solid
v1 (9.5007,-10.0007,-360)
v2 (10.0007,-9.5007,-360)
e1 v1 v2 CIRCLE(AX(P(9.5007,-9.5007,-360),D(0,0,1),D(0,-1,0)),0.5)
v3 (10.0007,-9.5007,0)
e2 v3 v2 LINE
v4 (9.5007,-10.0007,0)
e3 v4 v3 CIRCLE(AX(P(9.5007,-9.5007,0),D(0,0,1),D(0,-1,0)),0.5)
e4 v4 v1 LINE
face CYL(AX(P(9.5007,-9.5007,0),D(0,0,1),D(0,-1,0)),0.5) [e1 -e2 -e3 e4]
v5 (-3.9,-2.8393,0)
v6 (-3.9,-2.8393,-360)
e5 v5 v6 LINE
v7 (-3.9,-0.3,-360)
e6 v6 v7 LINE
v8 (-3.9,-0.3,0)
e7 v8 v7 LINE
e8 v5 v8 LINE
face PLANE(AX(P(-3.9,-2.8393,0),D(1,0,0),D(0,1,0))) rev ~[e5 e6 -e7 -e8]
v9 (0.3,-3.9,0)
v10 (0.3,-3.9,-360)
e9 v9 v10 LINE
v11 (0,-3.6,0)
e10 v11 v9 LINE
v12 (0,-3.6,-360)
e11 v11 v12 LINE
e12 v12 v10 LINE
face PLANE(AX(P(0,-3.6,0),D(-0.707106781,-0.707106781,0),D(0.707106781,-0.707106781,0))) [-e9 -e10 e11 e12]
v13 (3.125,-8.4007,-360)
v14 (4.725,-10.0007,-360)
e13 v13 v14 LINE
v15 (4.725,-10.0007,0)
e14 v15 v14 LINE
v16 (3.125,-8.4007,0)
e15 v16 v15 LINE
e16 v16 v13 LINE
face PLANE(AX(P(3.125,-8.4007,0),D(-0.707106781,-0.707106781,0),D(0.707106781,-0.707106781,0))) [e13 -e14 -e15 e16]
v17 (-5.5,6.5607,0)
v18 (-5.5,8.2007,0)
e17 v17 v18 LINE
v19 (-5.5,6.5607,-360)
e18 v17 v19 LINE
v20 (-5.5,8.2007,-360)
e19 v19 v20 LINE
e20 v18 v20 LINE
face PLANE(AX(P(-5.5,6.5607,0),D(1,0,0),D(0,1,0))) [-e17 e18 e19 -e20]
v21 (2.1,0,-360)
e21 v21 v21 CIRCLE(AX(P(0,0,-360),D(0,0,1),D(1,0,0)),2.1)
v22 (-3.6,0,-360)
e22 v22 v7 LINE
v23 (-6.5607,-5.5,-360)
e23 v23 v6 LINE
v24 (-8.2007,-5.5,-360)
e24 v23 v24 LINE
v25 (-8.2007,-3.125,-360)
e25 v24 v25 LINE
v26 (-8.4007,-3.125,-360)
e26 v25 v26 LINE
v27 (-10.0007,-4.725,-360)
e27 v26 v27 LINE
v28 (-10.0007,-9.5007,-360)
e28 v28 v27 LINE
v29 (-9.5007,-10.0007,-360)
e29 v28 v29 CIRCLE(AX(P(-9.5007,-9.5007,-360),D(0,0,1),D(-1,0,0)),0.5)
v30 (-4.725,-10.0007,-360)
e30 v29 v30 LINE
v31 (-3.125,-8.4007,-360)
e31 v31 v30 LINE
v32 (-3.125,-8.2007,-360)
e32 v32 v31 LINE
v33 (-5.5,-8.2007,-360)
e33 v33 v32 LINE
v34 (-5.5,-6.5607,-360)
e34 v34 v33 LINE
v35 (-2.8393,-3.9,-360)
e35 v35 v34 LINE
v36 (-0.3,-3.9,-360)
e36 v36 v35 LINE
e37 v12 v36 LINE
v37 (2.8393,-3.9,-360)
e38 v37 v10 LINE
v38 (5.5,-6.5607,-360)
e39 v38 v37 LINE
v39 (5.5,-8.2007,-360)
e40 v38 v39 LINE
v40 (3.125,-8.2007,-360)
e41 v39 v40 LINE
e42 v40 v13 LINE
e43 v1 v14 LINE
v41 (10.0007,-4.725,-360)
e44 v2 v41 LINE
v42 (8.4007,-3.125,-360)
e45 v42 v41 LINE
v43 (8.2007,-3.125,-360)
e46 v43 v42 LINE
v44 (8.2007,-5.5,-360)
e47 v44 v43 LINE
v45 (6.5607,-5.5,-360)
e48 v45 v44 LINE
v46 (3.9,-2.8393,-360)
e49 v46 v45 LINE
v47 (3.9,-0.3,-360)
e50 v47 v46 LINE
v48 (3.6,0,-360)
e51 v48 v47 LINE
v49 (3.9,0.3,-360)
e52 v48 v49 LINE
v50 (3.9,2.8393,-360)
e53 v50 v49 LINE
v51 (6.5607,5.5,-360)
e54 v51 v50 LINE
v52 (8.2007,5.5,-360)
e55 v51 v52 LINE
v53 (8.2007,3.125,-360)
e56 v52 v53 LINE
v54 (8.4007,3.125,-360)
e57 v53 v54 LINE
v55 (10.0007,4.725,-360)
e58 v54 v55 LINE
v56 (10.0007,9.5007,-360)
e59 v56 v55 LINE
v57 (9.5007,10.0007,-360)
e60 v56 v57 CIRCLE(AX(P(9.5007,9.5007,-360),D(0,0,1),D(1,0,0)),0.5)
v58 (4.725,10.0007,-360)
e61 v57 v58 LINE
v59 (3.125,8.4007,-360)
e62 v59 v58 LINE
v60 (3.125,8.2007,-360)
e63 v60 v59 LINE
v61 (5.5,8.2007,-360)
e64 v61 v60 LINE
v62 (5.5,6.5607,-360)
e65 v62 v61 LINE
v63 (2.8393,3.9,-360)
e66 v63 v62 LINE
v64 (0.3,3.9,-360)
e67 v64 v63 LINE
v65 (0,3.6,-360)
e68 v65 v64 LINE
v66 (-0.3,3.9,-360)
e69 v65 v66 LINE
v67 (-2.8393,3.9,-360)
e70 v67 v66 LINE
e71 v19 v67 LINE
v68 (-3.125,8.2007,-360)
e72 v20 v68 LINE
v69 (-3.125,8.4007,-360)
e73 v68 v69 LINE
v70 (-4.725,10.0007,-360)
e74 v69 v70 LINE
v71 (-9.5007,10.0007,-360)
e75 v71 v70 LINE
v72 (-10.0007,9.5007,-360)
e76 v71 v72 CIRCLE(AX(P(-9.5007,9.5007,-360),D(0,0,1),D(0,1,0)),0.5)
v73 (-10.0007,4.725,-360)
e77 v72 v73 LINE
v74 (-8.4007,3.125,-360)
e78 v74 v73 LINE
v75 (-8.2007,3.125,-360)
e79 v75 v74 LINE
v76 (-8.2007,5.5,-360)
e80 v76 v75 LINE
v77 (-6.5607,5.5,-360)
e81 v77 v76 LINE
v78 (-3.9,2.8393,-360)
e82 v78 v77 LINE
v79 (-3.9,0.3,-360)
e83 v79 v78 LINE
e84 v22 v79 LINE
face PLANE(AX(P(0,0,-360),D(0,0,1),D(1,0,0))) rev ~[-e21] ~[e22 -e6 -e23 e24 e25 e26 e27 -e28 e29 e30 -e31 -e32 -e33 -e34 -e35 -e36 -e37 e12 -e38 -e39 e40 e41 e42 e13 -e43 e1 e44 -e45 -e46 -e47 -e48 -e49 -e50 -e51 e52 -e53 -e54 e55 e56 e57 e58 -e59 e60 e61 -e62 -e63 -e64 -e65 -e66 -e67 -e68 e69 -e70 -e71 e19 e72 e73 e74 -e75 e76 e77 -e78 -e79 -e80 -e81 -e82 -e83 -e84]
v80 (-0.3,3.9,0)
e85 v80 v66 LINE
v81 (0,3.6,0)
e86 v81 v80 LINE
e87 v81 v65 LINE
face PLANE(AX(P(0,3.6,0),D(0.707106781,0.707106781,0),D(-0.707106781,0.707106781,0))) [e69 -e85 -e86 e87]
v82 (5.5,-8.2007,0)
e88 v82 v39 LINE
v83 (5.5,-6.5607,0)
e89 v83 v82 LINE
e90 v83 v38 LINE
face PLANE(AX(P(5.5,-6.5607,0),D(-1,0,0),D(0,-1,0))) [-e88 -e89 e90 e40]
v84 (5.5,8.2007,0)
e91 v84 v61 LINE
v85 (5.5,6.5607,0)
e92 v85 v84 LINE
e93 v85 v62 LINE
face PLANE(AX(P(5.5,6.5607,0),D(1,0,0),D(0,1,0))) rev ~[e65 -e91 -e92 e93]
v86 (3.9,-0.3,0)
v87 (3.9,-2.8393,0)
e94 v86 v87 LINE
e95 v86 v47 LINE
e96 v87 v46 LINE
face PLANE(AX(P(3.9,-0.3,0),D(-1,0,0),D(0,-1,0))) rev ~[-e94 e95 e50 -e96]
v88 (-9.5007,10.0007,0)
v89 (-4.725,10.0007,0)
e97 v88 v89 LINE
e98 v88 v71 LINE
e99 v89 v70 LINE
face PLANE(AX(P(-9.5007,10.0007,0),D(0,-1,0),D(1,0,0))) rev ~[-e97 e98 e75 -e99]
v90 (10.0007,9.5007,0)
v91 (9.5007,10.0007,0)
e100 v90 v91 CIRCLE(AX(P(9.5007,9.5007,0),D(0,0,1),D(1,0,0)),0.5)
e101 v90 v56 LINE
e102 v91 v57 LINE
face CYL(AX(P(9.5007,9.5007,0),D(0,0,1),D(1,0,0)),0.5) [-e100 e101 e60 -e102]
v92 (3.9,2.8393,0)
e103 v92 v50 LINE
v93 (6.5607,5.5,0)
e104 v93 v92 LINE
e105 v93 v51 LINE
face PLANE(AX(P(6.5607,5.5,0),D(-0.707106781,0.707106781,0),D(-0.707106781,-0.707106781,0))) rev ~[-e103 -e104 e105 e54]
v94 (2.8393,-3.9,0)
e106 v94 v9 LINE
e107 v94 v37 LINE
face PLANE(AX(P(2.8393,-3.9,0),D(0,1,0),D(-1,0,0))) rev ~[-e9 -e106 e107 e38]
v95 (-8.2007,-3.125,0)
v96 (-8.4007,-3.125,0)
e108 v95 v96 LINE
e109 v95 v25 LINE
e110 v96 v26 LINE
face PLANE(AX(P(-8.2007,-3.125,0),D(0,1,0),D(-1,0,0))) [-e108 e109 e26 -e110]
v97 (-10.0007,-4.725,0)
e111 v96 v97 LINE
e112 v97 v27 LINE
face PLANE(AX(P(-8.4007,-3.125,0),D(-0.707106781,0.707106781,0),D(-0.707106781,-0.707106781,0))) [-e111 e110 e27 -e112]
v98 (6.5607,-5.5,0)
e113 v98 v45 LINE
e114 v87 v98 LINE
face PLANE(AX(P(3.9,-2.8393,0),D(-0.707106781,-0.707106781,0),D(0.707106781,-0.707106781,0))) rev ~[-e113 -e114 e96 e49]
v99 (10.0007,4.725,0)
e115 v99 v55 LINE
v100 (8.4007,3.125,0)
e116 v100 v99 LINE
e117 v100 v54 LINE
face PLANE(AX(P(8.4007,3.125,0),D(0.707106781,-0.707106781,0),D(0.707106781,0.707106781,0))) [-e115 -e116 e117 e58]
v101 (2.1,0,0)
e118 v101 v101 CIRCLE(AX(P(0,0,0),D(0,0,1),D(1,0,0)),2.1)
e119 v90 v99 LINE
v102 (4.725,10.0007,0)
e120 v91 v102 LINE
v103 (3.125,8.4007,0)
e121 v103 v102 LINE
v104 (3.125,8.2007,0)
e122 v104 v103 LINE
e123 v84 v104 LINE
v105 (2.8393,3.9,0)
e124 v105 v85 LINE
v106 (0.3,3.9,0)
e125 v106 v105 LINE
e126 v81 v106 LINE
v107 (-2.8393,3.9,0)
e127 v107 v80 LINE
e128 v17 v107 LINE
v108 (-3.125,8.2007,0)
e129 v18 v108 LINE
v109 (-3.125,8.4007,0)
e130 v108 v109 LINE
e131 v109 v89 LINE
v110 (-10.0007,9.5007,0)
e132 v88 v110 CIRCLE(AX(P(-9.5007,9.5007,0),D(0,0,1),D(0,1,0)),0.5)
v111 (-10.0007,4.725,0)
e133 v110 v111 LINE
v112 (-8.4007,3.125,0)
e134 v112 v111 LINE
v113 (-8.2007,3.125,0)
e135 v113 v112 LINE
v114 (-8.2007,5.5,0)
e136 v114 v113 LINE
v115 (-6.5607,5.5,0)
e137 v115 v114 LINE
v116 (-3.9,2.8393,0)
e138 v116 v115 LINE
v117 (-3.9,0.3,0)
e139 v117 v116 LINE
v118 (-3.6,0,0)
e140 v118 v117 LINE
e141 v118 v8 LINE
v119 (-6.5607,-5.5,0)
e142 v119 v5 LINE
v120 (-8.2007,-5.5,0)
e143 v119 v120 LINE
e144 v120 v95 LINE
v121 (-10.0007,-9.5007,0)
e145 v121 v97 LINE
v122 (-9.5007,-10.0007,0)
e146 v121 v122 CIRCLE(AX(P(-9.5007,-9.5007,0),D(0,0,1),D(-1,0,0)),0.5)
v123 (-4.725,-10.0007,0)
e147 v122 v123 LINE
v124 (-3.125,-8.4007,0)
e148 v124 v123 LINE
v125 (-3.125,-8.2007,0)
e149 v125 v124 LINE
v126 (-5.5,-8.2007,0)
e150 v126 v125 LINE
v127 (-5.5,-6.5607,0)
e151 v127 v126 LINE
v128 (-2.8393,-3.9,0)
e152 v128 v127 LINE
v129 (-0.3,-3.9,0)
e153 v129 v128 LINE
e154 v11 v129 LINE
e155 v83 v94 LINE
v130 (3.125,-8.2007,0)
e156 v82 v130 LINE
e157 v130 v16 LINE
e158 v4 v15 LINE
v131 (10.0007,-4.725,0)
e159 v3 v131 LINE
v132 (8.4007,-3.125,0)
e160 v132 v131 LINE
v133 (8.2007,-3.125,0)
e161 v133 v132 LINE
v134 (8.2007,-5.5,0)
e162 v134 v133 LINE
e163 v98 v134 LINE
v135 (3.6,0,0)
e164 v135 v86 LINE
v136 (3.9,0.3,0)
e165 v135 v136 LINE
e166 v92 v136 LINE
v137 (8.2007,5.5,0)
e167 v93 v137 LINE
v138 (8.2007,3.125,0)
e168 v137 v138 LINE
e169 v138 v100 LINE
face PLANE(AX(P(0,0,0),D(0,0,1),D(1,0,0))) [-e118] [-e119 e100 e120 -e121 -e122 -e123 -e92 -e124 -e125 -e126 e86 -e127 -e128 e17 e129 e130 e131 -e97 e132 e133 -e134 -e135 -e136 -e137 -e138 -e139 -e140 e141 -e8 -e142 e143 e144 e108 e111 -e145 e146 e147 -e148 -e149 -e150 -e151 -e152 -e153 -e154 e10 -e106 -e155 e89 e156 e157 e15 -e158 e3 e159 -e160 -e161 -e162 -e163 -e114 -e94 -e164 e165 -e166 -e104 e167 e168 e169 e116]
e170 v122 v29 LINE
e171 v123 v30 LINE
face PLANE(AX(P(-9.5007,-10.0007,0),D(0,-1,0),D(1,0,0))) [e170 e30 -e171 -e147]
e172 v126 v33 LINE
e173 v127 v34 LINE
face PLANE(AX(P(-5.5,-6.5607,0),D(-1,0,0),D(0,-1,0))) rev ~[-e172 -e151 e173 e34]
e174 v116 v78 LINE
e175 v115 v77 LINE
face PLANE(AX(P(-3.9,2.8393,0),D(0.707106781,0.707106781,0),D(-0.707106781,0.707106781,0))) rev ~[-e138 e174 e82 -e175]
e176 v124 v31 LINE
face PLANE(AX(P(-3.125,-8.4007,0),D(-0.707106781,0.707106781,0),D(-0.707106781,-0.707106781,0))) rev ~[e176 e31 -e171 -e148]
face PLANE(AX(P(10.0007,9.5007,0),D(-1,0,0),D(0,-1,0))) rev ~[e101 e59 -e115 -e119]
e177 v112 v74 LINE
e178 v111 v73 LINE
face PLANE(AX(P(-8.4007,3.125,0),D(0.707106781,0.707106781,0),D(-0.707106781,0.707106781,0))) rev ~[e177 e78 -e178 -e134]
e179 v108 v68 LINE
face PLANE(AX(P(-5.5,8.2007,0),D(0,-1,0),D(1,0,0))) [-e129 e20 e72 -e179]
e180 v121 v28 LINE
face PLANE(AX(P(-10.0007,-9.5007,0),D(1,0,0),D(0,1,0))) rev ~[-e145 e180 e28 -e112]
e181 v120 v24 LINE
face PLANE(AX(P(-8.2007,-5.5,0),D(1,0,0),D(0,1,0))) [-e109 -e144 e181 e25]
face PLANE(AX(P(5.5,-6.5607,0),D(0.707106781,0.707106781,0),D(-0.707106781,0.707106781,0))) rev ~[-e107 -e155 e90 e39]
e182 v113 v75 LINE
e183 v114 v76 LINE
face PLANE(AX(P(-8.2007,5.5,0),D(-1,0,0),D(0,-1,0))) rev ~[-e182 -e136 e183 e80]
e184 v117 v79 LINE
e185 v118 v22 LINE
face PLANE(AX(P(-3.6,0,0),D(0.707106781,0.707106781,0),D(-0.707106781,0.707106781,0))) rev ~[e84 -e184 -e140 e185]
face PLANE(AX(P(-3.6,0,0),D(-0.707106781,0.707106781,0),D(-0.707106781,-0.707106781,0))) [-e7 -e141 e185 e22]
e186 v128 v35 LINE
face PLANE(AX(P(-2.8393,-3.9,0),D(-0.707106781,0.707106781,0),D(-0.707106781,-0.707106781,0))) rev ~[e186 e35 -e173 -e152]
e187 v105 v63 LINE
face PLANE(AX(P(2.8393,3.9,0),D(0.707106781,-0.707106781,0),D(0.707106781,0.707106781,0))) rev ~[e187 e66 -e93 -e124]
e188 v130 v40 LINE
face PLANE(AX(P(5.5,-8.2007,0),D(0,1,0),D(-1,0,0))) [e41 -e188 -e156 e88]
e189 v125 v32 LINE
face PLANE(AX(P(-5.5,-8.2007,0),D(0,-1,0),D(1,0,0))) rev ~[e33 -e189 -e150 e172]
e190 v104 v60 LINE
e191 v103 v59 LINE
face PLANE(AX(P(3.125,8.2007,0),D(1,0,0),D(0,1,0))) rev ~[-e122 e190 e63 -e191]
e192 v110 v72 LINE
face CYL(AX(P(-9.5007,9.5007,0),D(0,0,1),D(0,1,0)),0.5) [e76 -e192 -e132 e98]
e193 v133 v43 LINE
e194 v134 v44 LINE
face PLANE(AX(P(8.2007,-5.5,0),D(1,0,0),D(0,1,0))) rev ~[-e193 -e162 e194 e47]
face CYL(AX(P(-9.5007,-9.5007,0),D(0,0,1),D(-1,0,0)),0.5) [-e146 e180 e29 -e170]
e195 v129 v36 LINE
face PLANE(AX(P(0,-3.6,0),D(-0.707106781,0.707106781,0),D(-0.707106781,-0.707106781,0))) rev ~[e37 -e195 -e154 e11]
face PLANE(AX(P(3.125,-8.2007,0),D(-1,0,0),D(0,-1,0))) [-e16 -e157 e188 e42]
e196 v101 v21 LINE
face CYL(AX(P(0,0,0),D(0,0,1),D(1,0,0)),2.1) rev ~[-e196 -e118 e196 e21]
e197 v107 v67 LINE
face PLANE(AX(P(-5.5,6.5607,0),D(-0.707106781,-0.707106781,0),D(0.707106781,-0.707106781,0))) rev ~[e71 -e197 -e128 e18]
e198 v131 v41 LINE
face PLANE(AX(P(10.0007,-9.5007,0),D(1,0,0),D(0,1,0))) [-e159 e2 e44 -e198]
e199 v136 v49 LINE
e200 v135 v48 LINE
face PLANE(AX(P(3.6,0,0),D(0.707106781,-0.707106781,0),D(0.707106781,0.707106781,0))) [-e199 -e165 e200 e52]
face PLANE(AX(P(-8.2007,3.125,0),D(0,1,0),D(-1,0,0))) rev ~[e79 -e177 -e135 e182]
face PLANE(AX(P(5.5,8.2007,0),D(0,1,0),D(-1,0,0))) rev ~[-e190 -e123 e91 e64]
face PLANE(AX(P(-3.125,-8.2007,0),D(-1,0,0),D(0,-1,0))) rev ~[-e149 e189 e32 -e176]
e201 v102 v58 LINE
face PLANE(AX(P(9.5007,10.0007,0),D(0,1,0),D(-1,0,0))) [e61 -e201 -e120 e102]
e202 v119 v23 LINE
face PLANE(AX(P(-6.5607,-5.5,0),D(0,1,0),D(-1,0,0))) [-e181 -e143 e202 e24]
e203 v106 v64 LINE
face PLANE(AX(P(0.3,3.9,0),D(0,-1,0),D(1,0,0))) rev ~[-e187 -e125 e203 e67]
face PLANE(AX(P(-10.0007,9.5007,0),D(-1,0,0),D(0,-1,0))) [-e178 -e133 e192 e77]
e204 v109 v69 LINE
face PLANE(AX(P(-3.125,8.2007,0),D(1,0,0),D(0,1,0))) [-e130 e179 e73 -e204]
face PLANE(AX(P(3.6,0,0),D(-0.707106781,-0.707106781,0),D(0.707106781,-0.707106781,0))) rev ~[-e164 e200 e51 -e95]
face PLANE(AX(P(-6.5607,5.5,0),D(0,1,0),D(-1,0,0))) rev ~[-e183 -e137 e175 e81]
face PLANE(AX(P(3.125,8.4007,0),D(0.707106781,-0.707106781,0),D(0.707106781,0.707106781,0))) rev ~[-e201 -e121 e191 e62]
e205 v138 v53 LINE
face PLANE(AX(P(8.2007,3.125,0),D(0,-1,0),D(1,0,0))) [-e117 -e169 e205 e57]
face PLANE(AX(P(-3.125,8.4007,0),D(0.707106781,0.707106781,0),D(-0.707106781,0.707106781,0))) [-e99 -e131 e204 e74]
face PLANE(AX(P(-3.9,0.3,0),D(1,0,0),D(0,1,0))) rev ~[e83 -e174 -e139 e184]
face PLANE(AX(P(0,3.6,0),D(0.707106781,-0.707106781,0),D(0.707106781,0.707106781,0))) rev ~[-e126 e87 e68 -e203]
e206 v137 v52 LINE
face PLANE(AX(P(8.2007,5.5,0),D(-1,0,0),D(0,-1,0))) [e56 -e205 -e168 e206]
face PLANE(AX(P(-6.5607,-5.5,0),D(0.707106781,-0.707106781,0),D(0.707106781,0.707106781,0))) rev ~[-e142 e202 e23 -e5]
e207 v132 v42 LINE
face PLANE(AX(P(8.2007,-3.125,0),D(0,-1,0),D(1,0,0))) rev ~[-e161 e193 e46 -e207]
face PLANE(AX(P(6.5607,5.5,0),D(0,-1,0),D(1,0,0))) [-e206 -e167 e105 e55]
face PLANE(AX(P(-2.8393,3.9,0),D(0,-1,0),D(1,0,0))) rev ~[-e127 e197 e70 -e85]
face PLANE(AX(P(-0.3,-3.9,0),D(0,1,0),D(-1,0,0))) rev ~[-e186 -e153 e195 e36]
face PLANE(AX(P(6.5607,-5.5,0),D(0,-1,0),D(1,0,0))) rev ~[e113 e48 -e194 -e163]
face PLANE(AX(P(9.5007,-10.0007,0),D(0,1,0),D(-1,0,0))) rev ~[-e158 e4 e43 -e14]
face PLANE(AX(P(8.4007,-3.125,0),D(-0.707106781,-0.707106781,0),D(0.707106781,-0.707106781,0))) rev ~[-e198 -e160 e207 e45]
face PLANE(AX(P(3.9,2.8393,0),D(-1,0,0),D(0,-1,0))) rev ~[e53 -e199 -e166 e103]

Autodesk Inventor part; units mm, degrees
ref_plane "YZ Plane" through (0, 0, 0) normal (1, 0, 0) x (0, 1, 0)
ref_plane "XZ Plane" through (0, 0, 0) normal (0, 1, 0) x (-1, 0, 0)
ref_plane "XY Plane" through (0, 0, 0) normal (0, 0, 1) x (1, 0, 0)
sketch "Sketch2" plane through (0, 0, 0) normal (0, 0, 1) x (1, 0, 0)
  arc A0 (-27.4375, 16.3608) -> (-26.9375, 16.8608) centre (-27.4375, 16.8608) ccw
  line L0 (-45.4375, 36.3608) -> (-46.4375, 36.3608)
  line L1 (-46.9375, 34.8608) -> (-46.9375, 35.8608)
  line L2 (-28.4375, 36.3608) -> (-27.4375, 36.3608)
  line L3 (-26.9375, 17.8608) -> (-26.9375, 16.8608)
  line L4 (-28.4375, 16.3608) -> (-27.4375, 16.3608)
  line L5 (-26.9375, 31.1923) -> (-26.9375, 35.8608)
  line L6 (-46.4375, 16.3608) -> (-41.7689, 16.3608)
  line L7 (-46.9375, 17.8608) -> (-46.9375, 16.8608)
  arc A1 (-46.9375, 16.8608) -> (-46.4375, 16.3608) centre (-46.4375, 16.8608) ccw
  arc A2 (-46.9375, 16.8608) -> (-46.4375, 16.3608) centre (-46.4375, 16.8608) ccw
  arc A3 (-46.4375, 36.3608) -> (-46.9375, 35.8608) centre (-46.4375, 35.8608) ccw
  arc A4 (-26.9375, 35.8608) -> (-27.4375, 36.3608) centre (-27.4375, 35.8608) ccw
  line L8 (-41.5004, 36.2982) -> (-41.5366, 36.3146)
  line L9 (-46.812, 30.8227) -> (-46.8352, 30.855)
  line L10 (-46.9375, 17.8608) -> (-46.9375, 21.4608)
  line L11 (-46.9362, 21.5691) -> (-46.9375, 21.4608)
  line L12 (-46.9258, 21.6478) -> (-46.9323, 21.6086)
  line L13 (-46.9323, 21.6086) -> (-46.9362, 21.5691)
  line L14 (-46.9168, 21.6865) -> (-46.9258, 21.6478)
  line L15 (-46.9053, 21.7245) -> (-46.9168, 21.6865)
  line L16 (-46.8913, 21.7617) -> (-46.9053, 21.7245)
  line L17 (-46.8749, 21.7979) -> (-46.8913, 21.7617)
  line L18 (-46.8561, 21.8329) -> (-46.8749, 21.7979)
  line L19 (-46.812, 21.8989) -> (-46.8352, 21.8667)
  line L20 (-46.8352, 21.8667) -> (-46.8561, 21.8329)
  line L21 (-41.4654, 36.2795) -> (-41.5004, 36.2982)
  line L22 (-46.7868, 21.9297) -> (-46.812, 21.8989)
  line L23 (-46.7597, 21.9586) -> (-46.7868, 21.9297)
  line L24 (-46.7597, 21.9586) -> (-45.2441, 23.4742)
  line L25 (-45.2441, 23.4742) -> (-45.1375, 23.4742)
  line L26 (-45.1375, 23.4742) -> (-45.1375, 20.8608)
  line L27 (-45.1375, 20.8608) -> (-43.4981, 20.8608)
  line L28 (-43.4981, 20.8608) -> (-40.8375, 23.5215)
  line L29 (-46.7868, 30.792) -> (-46.812, 30.8227)
  line L30 (-40.8375, 26.161) -> (-40.8375, 23.5215)
  line L31 (-40.6376, 26.3608) -> (-40.8375, 26.161)
  line L32 (-40.6376, 26.3608) -> (-40.8375, 26.5607)
  line L33 (-40.8375, 29.2002) -> (-40.8375, 26.5607)
  line L34 (-43.4981, 31.8608) -> (-40.8375, 29.2002)
  line L35 (-45.1375, 31.8608) -> (-43.4981, 31.8608)
  line L36 (-45.1375, 29.2475) -> (-45.1375, 31.8608)
  line L37 (-46.7597, 30.763) -> (-46.7868, 30.792)
  line L38 (-45.2441, 29.2475) -> (-45.1375, 29.2475)
  line L39 (-45.2441, 29.2475) -> (-46.7597, 30.763)
  line L40 (-28.7375, 20.8608) -> (-30.3768, 20.8608)
  line L41 (-41.5738, 36.3286) -> (-41.6118, 36.3402)
  line L42 (-41.3687, 36.2102) -> (-41.3994, 36.2354)
  line L43 (-41.3397, 36.183) -> (-41.3687, 36.2102)
  line L44 (-41.6118, 36.3402) -> (-41.6505, 36.3492)
  line L45 (-41.7292, 16.3621) -> (-41.7689, 16.3608)
  line L46 (-41.6897, 16.366) -> (-41.7292, 16.3621)
  line L47 (-41.6505, 16.3725) -> (-41.6897, 16.366)
  line L48 (-41.6118, 16.3815) -> (-41.6505, 16.3725)
  line L49 (-41.5738, 16.3931) -> (-41.6118, 16.3815)
  line L50 (-41.5366, 16.4071) -> (-41.5738, 16.3931)
  line L51 (-42.4375, 32.9215) -> (-39.7768, 30.2608)
  line L52 (-41.5004, 16.4235) -> (-41.5366, 16.4071)
  line L53 (-41.4654, 16.4422) -> (-41.5004, 16.4235)
  line L54 (-41.4317, 16.4632) -> (-41.4654, 16.4422)
  line L55 (-41.3994, 16.4863) -> (-41.4317, 16.4632)
  line L56 (-41.3687, 16.5115) -> (-41.3994, 16.4863)
  line L57 (-41.3397, 16.5386) -> (-41.3687, 16.5115)
  line L58 (-41.3397, 16.5386) -> (-39.8241, 18.0542)
  line L59 (-39.8241, 18.0542) -> (-39.8241, 18.1608)
  line L60 (-39.8241, 18.1608) -> (-42.4375, 18.1608)
  line L61 (-42.4375, 18.1608) -> (-42.4375, 19.8002)
  line L62 (-42.4375, 19.8002) -> (-39.7768, 22.4608)
  line L63 (-39.7768, 22.4608) -> (-37.1444, 22.4608)
  line L64 (-37.1444, 22.4608) -> (-36.9375, 22.6656)
  line L65 (-36.9375, 22.6656) -> (-36.7327, 22.4608)
  line L66 (-36.7327, 22.4608) -> (-34.0981, 22.4608)
  line L67 (-34.0981, 22.4608) -> (-31.4375, 19.8002)
  line L68 (-31.4375, 18.1608) -> (-31.4375, 19.8002)
  line L69 (-41.3397, 36.183) -> (-39.8241, 34.6675)
  line L70 (-34.0508, 18.1608) -> (-31.4375, 18.1608)
  line L71 (-41.6505, 36.3492) -> (-41.6897, 36.3557)
  line L72 (-34.0508, 18.0542) -> (-34.0508, 18.1608)
  line L73 (-34.0508, 18.0542) -> (-32.5353, 16.5387)
  line L74 (-32.5353, 16.5387) -> (-32.5063, 16.5115)
  line L75 (-32.5063, 16.5115) -> (-32.4756, 16.4863)
  line L76 (-32.4756, 16.4863) -> (-32.4433, 16.4632)
  line L77 (-32.4433, 16.4632) -> (-32.4096, 16.4422)
  line L78 (-32.4096, 16.4422) -> (-32.3745, 16.4235)
  line L79 (-32.3745, 16.4235) -> (-32.3383, 16.4071)
  line L80 (-32.3383, 16.4071) -> (-32.3012, 16.3931)
  line L81 (-32.3012, 16.3931) -> (-32.2631, 16.3815)
  line L82 (-32.2631, 16.3815) -> (-32.2245, 16.3725)
  line L83 (-32.2245, 16.3725) -> (-32.1853, 16.366)
  line L84 (-32.1853, 16.366) -> (-32.1457, 16.3621)
  line L85 (-32.1457, 16.3621) -> (-32.106, 16.3608)
  line L86 (-28.4375, 16.3608) -> (-32.106, 16.3608)
  line L87 (-39.8241, 34.6675) -> (-39.8241, 34.5608)
  line L88 (-41.6897, 36.3557) -> (-41.7292, 36.3595)
  line L89 (-26.9375, 17.8608) -> (-26.9375, 21.5294)
  line L90 (-26.9388, 21.5691) -> (-26.9375, 21.5294)
  line L91 (-26.9427, 21.6086) -> (-26.9388, 21.5691)
  line L92 (-26.9491, 21.6478) -> (-26.9427, 21.6086)
  line L93 (-26.9582, 21.6865) -> (-26.9491, 21.6478)
  line L94 (-26.9697, 21.7245) -> (-26.9582, 21.6865)
  line L95 (-26.9837, 21.7617) -> (-26.9697, 21.7245)
  line L96 (-27.0001, 21.7979) -> (-26.9837, 21.7617)
  line L97 (-41.7292, 36.3595) -> (-41.7689, 36.3608)
  line L98 (-27.0188, 21.8329) -> (-27.0001, 21.7979)
  line L99 (-27.0398, 21.8667) -> (-27.0188, 21.8329)
  line L100 (-27.0629, 21.8989) -> (-27.0398, 21.8667)
  line L101 (-27.0881, 21.9297) -> (-27.0629, 21.8989)
  line L102 (-27.1153, 21.9587) -> (-27.0881, 21.9297)
  line L103 (-28.6308, 23.4742) -> (-27.1153, 21.9587)
  line L104 (-28.6308, 23.4742) -> (-28.7375, 23.4742)
  line L105 (-28.7375, 23.4742) -> (-28.7375, 20.8608)
  line L106 (-32.3012, 36.3286) -> (-32.2631, 36.3402)
  line L107 (-30.3768, 20.8608) -> (-33.0375, 23.5215)
  line L108 (-33.0375, 23.5215) -> (-33.0375, 26.161)
  line L109 (-33.2373, 26.3608) -> (-33.0375, 26.161)
  line L110 (-33.2373, 26.3608) -> (-33.0375, 26.5607)
  line L111 (-33.0375, 29.2002) -> (-33.0375, 26.5607)
  line L112 (-30.3768, 31.8608) -> (-33.0375, 29.2002)
  line L113 (-45.4375, 36.3608) -> (-41.7689, 36.3608)
  line L114 (-28.6308, 29.2475) -> (-28.7375, 29.2475)
  line L115 (-28.7375, 31.8608) -> (-30.3768, 31.8608)
  line L116 (-28.7375, 29.2475) -> (-28.7375, 31.8608)
  line L117 (-27.1153, 30.763) -> (-28.6308, 29.2475)
  line L118 (-27.1153, 30.763) -> (-27.0881, 30.792)
  line L119 (-27.0881, 30.792) -> (-27.0629, 30.8227)
  line L120 (-27.0629, 30.8227) -> (-27.0398, 30.855)
  line L121 (-27.0398, 30.855) -> (-27.0188, 30.8888)
  line L122 (-27.0188, 30.8888) -> (-27.0001, 30.9238)
  line L123 (-27.0001, 30.9238) -> (-26.9837, 30.96)
  line L124 (-26.9837, 30.96) -> (-26.9697, 30.9972)
  line L125 (-26.9697, 30.9972) -> (-26.9582, 31.0352)
  line L126 (-26.9582, 31.0352) -> (-26.9491, 31.0739)
  line L127 (-26.9491, 31.0739) -> (-26.9427, 31.1131)
  line L128 (-26.9427, 31.1131) -> (-26.9388, 31.1526)
  line L129 (-26.9388, 31.1526) -> (-26.9375, 31.1923)
  line L130 (-39.8241, 34.5608) -> (-42.4375, 34.5608)
  line L131 (-28.4375, 36.3608) -> (-32.106, 36.3608)
  line L132 (-32.1457, 36.3595) -> (-32.106, 36.3608)
  line L133 (-32.1853, 36.3557) -> (-32.1457, 36.3595)
  line L134 (-32.2631, 36.3402) -> (-32.2245, 36.3492)
  line L135 (-32.3383, 36.3146) -> (-32.3012, 36.3286)
  line L136 (-32.3745, 36.2982) -> (-32.3383, 36.3146)
  line L137 (-32.4096, 36.2795) -> (-32.3745, 36.2982)
  line L138 (-32.4433, 36.2585) -> (-32.4096, 36.2795)
  line L139 (-32.4756, 36.2354) -> (-32.4433, 36.2585)
  line L140 (-32.5063, 36.2102) -> (-32.4756, 36.2354)
  line L141 (-46.9323, 31.1131) -> (-46.9362, 31.1526)
  line L142 (-34.0508, 34.6675) -> (-32.5353, 36.183)
  line L143 (-34.0508, 34.6675) -> (-34.0508, 34.5608)
  line L144 (-34.0508, 34.5608) -> (-31.4375, 34.5608)
  line L145 (-31.4375, 34.5608) -> (-31.4375, 32.9215)
  line L146 (-34.0981, 30.2608) -> (-31.4375, 32.9215)
  line L147 (-34.0981, 30.2608) -> (-36.7327, 30.2608)
  line L148 (-42.4375, 34.5608) -> (-42.4375, 32.9215)
  line L149 (-36.7327, 30.2608) -> (-36.9375, 30.0561)
  line L150 (-37.1422, 30.2608) -> (-36.9375, 30.0561)
  line L151 (-39.7768, 30.2608) -> (-37.1422, 30.2608)
  line L152 (-32.5353, 36.183) -> (-32.5063, 36.2102)
  line L153 (-41.3994, 36.2354) -> (-41.4317, 36.2585)
  line L154 (-46.9258, 31.0739) -> (-46.9323, 31.1131)
  line L155 (-41.4317, 36.2585) -> (-41.4654, 36.2795)
  line L156 (-46.9362, 31.1526) -> (-46.9375, 31.2608)
  line L157 (-46.9168, 31.0352) -> (-46.9258, 31.0739)
  line L158 (-46.9375, 34.8608) -> (-46.9375, 31.2608)
  line L159 (-46.9053, 30.9972) -> (-46.9168, 31.0352)
  line L160 (-46.8913, 30.96) -> (-46.9053, 30.9972)
  line L161 (-46.8749, 30.9238) -> (-46.8913, 30.96)
  line L162 (-46.8561, 30.8888) -> (-46.8749, 30.9238)
  line L163 (-32.2245, 36.3492) -> (-32.1853, 36.3557)
  line L164 (-41.5366, 36.3146) -> (-41.5738, 36.3286)
  line L165 (-46.8352, 30.855) -> (-46.8561, 30.8888)
  circle A5 centre (-36.9375, 26.3608) radius 2.1
  line L166 (3.9, -0.3) -> (3.9, -2.8393)
  line L167 (2.8393, -3.9) -> (0.3, -3.9)
  line L168 (5.5, -6.5607) -> (2.8393, -3.9)
  line L169 (3.9, -2.8393) -> (6.5607, -5.5)
  line L170 (6.5607, -5.5) -> (8.2007, -5.5)
  line L171 (8.2007, -5.5) -> (8.2007, -3.125)
  line L172 (8.2007, -3.125) -> (8.4007, -3.125)
  line L173 (8.4007, -3.125) -> (10.0007, -4.725)
  line L174 (10.0007, -9.5007) -> (10.0007, -4.725)
  line L175 (5.5, -6.5607) -> (5.5, -8.2007)
  line L176 (5.5, -8.2007) -> (3.125, -8.2007)
  line L177 (3.125, -8.2007) -> (3.125, -8.4007)
  line L178 (3.125, -8.4007) -> (4.725, -10.0007)
  line L179 (9.5007, -10.0007) -> (4.725, -10.0007)
  arc A6 (9.5007, -10.0007) -> (10.0007, -9.5007) centre (9.5007, -9.5007) ccw
  line L180 (0, -3.6) -> (0.3, -3.9)
  line L181 (3.6, 0) -> (3.9, -0.3)
  line L182 (3.125, 8.2007) -> (3.125, 8.4007)
  line L183 (0.3, 3.9) -> (2.8393, 3.9)
  line L184 (5.5, 8.2007) -> (3.125, 8.2007)
  line L185 (2.8393, 3.9) -> (5.5, 6.5607)
  line L186 (3.9, 2.8393) -> (3.9, 0.3)
  line L187 (3.6, 0) -> (3.9, 0.3)
  line L188 (6.5607, 5.5) -> (3.9, 2.8393)
  line L189 (5.5, 6.5607) -> (5.5, 8.2007)
  line L190 (3.125, 8.4007) -> (4.725, 10.0007)
  line L191 (6.5607, 5.5) -> (8.2007, 5.5)
  line L192 (8.2007, 5.5) -> (8.2007, 3.125)
  line L193 (8.2007, 3.125) -> (8.4007, 3.125)
  line L194 (8.4007, 3.125) -> (10.0007, 4.725)
  line L195 (9.5007, 10.0007) -> (4.725, 10.0007)
  arc A7 (10.0007, 9.5007) -> (9.5007, 10.0007) centre (9.5007, 9.5007) ccw
  line L196 (10.0007, 9.5007) -> (10.0007, 4.725)
  line L197 (0, 3.6) -> (0.3, 3.9)
  line L198 (-8.2007, 3.125) -> (-8.4007, 3.125)
  line L199 (-3.9, 0.3) -> (-3.9, 2.8393)
  line L200 (-8.2007, 5.5) -> (-8.2007, 3.125)
  line L201 (-3.9, 2.8393) -> (-6.5607, 5.5)
  line L202 (-2.8393, 3.9) -> (-0.3, 3.9)
  line L203 (0, 3.6) -> (-0.3, 3.9)
  line L204 (-5.5, 6.5607) -> (-2.8393, 3.9)
  line L205 (-6.5607, 5.5) -> (-8.2007, 5.5)
  line L206 (-8.4007, 3.125) -> (-10.0007, 4.725)
  line L207 (-5.5, 6.5607) -> (-5.5, 8.2007)
  line L208 (-5.5, 8.2007) -> (-3.125, 8.2007)
  line L209 (-3.125, 8.2007) -> (-3.125, 8.4007)
  line L210 (-3.125, 8.4007) -> (-4.725, 10.0007)
  line L211 (-10.0007, 9.5007) -> (-10.0007, 4.725)
  arc A8 (-9.5007, 10.0007) -> (-10.0007, 9.5007) centre (-9.5007, 9.5007) ccw
  line L212 (-9.5007, 10.0007) -> (-4.725, 10.0007)
  line L213 (-3.6, 0) -> (-3.9, 0.3)
  line L214 (-3.125, -8.2007) -> (-3.125, -8.4007)
  line L215 (-0.3, -3.9) -> (-2.8393, -3.9)
  line L216 (-5.5, -8.2007) -> (-3.125, -8.2007)
  line L217 (-2.8393, -3.9) -> (-5.5, -6.5607)
  line L218 (-3.9, -2.8393) -> (-3.9, -0.3)
  line L219 (-3.6, 0) -> (-3.9, -0.3)
  line L220 (-6.5607, -5.5) -> (-3.9, -2.8393)
  line L221 (-5.5, -6.5607) -> (-5.5, -8.2007)
  line L222 (-3.125, -8.4007) -> (-4.725, -10.0007)
  line L223 (-6.5607, -5.5) -> (-8.2007, -5.5)
  line L224 (-8.2007, -5.5) -> (-8.2007, -3.125)
  line L225 (-8.2007, -3.125) -> (-8.4007, -3.125)
  line L226 (-8.4007, -3.125) -> (-10.0007, -4.725)
  line L227 (-9.5007, -10.0007) -> (-4.725, -10.0007)
  arc A9 (-10.0007, -9.5007) -> (-9.5007, -10.0007) centre (-9.5007, -9.5007) ccw
  line L228 (-10.0007, -9.5007) -> (-10.0007, -4.725)
  line L229 (0, -3.6) -> (-0.3, -3.9)
  circle A10 centre (0, 0) radius 2.1
  point P0 (0, -3.9)
  point P1 (3.9, 0)
  point P2 (3.9, 0)
  point P3 (0, 3.9)
  point P4 (0, 3.9)
  point P5 (3.9, 0)
  point P6 (-3.9, 0)
  point P7 (-3.9, 0)
  point P8 (0, 3.9)
  point P9 (0, -3.9)
  point P10 (0, -3.9)
  point P11 (-3.9, 0)
  dimension "d1" = 4.2
  dimension "d2" = 1.5
  dimension "d4" = 3.9
  dimension "d5" = 3.9
  dimension "d7" = 1.5
  dimension "d9" = 1.64
  dimension "d10" = 135
  dimension "d11" = 1.8
  dimension "d12" = 3.125
  dimension "d13" = 5.5
  dimension "d14" = 45
  dimension "d15" = 0.2
  dimension "d16" = 0.5
  dimension "d17" = 0.3
  dimension "d18" = 0.3
  dimension "d19" = 0.3
  dimension "d20" = 0.3
  dimension "d23" = 360
  dimension "d25" = 4.2
extrude "Extrusion1" add sketch "Sketch2" against normal blind 360 contours L166 L169 L170 L171 L172 L173 L174 A6 L179 L178 L177 L176 L175 L168 L167 L180 L229 L215 L217 L221 L216 L214 L222 L227 A9 L228 L226 L225 L224 L223 L220 L218 L219 L213 L199 L201 L205 L200 L198 L206 L211 A8 L212 L210 L209 L208 L207 L204 L202 L203 L197 L183 L185 L189 L184 L182 L190 L195 A7 L196 L194 L193 L192 L191 L188 L186 L187 L181
equation "\"d5\" = d4"
equation "\"d18\" = d17"
equation "\"d20\" = d19"
properties part number "v-slot" material "Aluminum 6061"
